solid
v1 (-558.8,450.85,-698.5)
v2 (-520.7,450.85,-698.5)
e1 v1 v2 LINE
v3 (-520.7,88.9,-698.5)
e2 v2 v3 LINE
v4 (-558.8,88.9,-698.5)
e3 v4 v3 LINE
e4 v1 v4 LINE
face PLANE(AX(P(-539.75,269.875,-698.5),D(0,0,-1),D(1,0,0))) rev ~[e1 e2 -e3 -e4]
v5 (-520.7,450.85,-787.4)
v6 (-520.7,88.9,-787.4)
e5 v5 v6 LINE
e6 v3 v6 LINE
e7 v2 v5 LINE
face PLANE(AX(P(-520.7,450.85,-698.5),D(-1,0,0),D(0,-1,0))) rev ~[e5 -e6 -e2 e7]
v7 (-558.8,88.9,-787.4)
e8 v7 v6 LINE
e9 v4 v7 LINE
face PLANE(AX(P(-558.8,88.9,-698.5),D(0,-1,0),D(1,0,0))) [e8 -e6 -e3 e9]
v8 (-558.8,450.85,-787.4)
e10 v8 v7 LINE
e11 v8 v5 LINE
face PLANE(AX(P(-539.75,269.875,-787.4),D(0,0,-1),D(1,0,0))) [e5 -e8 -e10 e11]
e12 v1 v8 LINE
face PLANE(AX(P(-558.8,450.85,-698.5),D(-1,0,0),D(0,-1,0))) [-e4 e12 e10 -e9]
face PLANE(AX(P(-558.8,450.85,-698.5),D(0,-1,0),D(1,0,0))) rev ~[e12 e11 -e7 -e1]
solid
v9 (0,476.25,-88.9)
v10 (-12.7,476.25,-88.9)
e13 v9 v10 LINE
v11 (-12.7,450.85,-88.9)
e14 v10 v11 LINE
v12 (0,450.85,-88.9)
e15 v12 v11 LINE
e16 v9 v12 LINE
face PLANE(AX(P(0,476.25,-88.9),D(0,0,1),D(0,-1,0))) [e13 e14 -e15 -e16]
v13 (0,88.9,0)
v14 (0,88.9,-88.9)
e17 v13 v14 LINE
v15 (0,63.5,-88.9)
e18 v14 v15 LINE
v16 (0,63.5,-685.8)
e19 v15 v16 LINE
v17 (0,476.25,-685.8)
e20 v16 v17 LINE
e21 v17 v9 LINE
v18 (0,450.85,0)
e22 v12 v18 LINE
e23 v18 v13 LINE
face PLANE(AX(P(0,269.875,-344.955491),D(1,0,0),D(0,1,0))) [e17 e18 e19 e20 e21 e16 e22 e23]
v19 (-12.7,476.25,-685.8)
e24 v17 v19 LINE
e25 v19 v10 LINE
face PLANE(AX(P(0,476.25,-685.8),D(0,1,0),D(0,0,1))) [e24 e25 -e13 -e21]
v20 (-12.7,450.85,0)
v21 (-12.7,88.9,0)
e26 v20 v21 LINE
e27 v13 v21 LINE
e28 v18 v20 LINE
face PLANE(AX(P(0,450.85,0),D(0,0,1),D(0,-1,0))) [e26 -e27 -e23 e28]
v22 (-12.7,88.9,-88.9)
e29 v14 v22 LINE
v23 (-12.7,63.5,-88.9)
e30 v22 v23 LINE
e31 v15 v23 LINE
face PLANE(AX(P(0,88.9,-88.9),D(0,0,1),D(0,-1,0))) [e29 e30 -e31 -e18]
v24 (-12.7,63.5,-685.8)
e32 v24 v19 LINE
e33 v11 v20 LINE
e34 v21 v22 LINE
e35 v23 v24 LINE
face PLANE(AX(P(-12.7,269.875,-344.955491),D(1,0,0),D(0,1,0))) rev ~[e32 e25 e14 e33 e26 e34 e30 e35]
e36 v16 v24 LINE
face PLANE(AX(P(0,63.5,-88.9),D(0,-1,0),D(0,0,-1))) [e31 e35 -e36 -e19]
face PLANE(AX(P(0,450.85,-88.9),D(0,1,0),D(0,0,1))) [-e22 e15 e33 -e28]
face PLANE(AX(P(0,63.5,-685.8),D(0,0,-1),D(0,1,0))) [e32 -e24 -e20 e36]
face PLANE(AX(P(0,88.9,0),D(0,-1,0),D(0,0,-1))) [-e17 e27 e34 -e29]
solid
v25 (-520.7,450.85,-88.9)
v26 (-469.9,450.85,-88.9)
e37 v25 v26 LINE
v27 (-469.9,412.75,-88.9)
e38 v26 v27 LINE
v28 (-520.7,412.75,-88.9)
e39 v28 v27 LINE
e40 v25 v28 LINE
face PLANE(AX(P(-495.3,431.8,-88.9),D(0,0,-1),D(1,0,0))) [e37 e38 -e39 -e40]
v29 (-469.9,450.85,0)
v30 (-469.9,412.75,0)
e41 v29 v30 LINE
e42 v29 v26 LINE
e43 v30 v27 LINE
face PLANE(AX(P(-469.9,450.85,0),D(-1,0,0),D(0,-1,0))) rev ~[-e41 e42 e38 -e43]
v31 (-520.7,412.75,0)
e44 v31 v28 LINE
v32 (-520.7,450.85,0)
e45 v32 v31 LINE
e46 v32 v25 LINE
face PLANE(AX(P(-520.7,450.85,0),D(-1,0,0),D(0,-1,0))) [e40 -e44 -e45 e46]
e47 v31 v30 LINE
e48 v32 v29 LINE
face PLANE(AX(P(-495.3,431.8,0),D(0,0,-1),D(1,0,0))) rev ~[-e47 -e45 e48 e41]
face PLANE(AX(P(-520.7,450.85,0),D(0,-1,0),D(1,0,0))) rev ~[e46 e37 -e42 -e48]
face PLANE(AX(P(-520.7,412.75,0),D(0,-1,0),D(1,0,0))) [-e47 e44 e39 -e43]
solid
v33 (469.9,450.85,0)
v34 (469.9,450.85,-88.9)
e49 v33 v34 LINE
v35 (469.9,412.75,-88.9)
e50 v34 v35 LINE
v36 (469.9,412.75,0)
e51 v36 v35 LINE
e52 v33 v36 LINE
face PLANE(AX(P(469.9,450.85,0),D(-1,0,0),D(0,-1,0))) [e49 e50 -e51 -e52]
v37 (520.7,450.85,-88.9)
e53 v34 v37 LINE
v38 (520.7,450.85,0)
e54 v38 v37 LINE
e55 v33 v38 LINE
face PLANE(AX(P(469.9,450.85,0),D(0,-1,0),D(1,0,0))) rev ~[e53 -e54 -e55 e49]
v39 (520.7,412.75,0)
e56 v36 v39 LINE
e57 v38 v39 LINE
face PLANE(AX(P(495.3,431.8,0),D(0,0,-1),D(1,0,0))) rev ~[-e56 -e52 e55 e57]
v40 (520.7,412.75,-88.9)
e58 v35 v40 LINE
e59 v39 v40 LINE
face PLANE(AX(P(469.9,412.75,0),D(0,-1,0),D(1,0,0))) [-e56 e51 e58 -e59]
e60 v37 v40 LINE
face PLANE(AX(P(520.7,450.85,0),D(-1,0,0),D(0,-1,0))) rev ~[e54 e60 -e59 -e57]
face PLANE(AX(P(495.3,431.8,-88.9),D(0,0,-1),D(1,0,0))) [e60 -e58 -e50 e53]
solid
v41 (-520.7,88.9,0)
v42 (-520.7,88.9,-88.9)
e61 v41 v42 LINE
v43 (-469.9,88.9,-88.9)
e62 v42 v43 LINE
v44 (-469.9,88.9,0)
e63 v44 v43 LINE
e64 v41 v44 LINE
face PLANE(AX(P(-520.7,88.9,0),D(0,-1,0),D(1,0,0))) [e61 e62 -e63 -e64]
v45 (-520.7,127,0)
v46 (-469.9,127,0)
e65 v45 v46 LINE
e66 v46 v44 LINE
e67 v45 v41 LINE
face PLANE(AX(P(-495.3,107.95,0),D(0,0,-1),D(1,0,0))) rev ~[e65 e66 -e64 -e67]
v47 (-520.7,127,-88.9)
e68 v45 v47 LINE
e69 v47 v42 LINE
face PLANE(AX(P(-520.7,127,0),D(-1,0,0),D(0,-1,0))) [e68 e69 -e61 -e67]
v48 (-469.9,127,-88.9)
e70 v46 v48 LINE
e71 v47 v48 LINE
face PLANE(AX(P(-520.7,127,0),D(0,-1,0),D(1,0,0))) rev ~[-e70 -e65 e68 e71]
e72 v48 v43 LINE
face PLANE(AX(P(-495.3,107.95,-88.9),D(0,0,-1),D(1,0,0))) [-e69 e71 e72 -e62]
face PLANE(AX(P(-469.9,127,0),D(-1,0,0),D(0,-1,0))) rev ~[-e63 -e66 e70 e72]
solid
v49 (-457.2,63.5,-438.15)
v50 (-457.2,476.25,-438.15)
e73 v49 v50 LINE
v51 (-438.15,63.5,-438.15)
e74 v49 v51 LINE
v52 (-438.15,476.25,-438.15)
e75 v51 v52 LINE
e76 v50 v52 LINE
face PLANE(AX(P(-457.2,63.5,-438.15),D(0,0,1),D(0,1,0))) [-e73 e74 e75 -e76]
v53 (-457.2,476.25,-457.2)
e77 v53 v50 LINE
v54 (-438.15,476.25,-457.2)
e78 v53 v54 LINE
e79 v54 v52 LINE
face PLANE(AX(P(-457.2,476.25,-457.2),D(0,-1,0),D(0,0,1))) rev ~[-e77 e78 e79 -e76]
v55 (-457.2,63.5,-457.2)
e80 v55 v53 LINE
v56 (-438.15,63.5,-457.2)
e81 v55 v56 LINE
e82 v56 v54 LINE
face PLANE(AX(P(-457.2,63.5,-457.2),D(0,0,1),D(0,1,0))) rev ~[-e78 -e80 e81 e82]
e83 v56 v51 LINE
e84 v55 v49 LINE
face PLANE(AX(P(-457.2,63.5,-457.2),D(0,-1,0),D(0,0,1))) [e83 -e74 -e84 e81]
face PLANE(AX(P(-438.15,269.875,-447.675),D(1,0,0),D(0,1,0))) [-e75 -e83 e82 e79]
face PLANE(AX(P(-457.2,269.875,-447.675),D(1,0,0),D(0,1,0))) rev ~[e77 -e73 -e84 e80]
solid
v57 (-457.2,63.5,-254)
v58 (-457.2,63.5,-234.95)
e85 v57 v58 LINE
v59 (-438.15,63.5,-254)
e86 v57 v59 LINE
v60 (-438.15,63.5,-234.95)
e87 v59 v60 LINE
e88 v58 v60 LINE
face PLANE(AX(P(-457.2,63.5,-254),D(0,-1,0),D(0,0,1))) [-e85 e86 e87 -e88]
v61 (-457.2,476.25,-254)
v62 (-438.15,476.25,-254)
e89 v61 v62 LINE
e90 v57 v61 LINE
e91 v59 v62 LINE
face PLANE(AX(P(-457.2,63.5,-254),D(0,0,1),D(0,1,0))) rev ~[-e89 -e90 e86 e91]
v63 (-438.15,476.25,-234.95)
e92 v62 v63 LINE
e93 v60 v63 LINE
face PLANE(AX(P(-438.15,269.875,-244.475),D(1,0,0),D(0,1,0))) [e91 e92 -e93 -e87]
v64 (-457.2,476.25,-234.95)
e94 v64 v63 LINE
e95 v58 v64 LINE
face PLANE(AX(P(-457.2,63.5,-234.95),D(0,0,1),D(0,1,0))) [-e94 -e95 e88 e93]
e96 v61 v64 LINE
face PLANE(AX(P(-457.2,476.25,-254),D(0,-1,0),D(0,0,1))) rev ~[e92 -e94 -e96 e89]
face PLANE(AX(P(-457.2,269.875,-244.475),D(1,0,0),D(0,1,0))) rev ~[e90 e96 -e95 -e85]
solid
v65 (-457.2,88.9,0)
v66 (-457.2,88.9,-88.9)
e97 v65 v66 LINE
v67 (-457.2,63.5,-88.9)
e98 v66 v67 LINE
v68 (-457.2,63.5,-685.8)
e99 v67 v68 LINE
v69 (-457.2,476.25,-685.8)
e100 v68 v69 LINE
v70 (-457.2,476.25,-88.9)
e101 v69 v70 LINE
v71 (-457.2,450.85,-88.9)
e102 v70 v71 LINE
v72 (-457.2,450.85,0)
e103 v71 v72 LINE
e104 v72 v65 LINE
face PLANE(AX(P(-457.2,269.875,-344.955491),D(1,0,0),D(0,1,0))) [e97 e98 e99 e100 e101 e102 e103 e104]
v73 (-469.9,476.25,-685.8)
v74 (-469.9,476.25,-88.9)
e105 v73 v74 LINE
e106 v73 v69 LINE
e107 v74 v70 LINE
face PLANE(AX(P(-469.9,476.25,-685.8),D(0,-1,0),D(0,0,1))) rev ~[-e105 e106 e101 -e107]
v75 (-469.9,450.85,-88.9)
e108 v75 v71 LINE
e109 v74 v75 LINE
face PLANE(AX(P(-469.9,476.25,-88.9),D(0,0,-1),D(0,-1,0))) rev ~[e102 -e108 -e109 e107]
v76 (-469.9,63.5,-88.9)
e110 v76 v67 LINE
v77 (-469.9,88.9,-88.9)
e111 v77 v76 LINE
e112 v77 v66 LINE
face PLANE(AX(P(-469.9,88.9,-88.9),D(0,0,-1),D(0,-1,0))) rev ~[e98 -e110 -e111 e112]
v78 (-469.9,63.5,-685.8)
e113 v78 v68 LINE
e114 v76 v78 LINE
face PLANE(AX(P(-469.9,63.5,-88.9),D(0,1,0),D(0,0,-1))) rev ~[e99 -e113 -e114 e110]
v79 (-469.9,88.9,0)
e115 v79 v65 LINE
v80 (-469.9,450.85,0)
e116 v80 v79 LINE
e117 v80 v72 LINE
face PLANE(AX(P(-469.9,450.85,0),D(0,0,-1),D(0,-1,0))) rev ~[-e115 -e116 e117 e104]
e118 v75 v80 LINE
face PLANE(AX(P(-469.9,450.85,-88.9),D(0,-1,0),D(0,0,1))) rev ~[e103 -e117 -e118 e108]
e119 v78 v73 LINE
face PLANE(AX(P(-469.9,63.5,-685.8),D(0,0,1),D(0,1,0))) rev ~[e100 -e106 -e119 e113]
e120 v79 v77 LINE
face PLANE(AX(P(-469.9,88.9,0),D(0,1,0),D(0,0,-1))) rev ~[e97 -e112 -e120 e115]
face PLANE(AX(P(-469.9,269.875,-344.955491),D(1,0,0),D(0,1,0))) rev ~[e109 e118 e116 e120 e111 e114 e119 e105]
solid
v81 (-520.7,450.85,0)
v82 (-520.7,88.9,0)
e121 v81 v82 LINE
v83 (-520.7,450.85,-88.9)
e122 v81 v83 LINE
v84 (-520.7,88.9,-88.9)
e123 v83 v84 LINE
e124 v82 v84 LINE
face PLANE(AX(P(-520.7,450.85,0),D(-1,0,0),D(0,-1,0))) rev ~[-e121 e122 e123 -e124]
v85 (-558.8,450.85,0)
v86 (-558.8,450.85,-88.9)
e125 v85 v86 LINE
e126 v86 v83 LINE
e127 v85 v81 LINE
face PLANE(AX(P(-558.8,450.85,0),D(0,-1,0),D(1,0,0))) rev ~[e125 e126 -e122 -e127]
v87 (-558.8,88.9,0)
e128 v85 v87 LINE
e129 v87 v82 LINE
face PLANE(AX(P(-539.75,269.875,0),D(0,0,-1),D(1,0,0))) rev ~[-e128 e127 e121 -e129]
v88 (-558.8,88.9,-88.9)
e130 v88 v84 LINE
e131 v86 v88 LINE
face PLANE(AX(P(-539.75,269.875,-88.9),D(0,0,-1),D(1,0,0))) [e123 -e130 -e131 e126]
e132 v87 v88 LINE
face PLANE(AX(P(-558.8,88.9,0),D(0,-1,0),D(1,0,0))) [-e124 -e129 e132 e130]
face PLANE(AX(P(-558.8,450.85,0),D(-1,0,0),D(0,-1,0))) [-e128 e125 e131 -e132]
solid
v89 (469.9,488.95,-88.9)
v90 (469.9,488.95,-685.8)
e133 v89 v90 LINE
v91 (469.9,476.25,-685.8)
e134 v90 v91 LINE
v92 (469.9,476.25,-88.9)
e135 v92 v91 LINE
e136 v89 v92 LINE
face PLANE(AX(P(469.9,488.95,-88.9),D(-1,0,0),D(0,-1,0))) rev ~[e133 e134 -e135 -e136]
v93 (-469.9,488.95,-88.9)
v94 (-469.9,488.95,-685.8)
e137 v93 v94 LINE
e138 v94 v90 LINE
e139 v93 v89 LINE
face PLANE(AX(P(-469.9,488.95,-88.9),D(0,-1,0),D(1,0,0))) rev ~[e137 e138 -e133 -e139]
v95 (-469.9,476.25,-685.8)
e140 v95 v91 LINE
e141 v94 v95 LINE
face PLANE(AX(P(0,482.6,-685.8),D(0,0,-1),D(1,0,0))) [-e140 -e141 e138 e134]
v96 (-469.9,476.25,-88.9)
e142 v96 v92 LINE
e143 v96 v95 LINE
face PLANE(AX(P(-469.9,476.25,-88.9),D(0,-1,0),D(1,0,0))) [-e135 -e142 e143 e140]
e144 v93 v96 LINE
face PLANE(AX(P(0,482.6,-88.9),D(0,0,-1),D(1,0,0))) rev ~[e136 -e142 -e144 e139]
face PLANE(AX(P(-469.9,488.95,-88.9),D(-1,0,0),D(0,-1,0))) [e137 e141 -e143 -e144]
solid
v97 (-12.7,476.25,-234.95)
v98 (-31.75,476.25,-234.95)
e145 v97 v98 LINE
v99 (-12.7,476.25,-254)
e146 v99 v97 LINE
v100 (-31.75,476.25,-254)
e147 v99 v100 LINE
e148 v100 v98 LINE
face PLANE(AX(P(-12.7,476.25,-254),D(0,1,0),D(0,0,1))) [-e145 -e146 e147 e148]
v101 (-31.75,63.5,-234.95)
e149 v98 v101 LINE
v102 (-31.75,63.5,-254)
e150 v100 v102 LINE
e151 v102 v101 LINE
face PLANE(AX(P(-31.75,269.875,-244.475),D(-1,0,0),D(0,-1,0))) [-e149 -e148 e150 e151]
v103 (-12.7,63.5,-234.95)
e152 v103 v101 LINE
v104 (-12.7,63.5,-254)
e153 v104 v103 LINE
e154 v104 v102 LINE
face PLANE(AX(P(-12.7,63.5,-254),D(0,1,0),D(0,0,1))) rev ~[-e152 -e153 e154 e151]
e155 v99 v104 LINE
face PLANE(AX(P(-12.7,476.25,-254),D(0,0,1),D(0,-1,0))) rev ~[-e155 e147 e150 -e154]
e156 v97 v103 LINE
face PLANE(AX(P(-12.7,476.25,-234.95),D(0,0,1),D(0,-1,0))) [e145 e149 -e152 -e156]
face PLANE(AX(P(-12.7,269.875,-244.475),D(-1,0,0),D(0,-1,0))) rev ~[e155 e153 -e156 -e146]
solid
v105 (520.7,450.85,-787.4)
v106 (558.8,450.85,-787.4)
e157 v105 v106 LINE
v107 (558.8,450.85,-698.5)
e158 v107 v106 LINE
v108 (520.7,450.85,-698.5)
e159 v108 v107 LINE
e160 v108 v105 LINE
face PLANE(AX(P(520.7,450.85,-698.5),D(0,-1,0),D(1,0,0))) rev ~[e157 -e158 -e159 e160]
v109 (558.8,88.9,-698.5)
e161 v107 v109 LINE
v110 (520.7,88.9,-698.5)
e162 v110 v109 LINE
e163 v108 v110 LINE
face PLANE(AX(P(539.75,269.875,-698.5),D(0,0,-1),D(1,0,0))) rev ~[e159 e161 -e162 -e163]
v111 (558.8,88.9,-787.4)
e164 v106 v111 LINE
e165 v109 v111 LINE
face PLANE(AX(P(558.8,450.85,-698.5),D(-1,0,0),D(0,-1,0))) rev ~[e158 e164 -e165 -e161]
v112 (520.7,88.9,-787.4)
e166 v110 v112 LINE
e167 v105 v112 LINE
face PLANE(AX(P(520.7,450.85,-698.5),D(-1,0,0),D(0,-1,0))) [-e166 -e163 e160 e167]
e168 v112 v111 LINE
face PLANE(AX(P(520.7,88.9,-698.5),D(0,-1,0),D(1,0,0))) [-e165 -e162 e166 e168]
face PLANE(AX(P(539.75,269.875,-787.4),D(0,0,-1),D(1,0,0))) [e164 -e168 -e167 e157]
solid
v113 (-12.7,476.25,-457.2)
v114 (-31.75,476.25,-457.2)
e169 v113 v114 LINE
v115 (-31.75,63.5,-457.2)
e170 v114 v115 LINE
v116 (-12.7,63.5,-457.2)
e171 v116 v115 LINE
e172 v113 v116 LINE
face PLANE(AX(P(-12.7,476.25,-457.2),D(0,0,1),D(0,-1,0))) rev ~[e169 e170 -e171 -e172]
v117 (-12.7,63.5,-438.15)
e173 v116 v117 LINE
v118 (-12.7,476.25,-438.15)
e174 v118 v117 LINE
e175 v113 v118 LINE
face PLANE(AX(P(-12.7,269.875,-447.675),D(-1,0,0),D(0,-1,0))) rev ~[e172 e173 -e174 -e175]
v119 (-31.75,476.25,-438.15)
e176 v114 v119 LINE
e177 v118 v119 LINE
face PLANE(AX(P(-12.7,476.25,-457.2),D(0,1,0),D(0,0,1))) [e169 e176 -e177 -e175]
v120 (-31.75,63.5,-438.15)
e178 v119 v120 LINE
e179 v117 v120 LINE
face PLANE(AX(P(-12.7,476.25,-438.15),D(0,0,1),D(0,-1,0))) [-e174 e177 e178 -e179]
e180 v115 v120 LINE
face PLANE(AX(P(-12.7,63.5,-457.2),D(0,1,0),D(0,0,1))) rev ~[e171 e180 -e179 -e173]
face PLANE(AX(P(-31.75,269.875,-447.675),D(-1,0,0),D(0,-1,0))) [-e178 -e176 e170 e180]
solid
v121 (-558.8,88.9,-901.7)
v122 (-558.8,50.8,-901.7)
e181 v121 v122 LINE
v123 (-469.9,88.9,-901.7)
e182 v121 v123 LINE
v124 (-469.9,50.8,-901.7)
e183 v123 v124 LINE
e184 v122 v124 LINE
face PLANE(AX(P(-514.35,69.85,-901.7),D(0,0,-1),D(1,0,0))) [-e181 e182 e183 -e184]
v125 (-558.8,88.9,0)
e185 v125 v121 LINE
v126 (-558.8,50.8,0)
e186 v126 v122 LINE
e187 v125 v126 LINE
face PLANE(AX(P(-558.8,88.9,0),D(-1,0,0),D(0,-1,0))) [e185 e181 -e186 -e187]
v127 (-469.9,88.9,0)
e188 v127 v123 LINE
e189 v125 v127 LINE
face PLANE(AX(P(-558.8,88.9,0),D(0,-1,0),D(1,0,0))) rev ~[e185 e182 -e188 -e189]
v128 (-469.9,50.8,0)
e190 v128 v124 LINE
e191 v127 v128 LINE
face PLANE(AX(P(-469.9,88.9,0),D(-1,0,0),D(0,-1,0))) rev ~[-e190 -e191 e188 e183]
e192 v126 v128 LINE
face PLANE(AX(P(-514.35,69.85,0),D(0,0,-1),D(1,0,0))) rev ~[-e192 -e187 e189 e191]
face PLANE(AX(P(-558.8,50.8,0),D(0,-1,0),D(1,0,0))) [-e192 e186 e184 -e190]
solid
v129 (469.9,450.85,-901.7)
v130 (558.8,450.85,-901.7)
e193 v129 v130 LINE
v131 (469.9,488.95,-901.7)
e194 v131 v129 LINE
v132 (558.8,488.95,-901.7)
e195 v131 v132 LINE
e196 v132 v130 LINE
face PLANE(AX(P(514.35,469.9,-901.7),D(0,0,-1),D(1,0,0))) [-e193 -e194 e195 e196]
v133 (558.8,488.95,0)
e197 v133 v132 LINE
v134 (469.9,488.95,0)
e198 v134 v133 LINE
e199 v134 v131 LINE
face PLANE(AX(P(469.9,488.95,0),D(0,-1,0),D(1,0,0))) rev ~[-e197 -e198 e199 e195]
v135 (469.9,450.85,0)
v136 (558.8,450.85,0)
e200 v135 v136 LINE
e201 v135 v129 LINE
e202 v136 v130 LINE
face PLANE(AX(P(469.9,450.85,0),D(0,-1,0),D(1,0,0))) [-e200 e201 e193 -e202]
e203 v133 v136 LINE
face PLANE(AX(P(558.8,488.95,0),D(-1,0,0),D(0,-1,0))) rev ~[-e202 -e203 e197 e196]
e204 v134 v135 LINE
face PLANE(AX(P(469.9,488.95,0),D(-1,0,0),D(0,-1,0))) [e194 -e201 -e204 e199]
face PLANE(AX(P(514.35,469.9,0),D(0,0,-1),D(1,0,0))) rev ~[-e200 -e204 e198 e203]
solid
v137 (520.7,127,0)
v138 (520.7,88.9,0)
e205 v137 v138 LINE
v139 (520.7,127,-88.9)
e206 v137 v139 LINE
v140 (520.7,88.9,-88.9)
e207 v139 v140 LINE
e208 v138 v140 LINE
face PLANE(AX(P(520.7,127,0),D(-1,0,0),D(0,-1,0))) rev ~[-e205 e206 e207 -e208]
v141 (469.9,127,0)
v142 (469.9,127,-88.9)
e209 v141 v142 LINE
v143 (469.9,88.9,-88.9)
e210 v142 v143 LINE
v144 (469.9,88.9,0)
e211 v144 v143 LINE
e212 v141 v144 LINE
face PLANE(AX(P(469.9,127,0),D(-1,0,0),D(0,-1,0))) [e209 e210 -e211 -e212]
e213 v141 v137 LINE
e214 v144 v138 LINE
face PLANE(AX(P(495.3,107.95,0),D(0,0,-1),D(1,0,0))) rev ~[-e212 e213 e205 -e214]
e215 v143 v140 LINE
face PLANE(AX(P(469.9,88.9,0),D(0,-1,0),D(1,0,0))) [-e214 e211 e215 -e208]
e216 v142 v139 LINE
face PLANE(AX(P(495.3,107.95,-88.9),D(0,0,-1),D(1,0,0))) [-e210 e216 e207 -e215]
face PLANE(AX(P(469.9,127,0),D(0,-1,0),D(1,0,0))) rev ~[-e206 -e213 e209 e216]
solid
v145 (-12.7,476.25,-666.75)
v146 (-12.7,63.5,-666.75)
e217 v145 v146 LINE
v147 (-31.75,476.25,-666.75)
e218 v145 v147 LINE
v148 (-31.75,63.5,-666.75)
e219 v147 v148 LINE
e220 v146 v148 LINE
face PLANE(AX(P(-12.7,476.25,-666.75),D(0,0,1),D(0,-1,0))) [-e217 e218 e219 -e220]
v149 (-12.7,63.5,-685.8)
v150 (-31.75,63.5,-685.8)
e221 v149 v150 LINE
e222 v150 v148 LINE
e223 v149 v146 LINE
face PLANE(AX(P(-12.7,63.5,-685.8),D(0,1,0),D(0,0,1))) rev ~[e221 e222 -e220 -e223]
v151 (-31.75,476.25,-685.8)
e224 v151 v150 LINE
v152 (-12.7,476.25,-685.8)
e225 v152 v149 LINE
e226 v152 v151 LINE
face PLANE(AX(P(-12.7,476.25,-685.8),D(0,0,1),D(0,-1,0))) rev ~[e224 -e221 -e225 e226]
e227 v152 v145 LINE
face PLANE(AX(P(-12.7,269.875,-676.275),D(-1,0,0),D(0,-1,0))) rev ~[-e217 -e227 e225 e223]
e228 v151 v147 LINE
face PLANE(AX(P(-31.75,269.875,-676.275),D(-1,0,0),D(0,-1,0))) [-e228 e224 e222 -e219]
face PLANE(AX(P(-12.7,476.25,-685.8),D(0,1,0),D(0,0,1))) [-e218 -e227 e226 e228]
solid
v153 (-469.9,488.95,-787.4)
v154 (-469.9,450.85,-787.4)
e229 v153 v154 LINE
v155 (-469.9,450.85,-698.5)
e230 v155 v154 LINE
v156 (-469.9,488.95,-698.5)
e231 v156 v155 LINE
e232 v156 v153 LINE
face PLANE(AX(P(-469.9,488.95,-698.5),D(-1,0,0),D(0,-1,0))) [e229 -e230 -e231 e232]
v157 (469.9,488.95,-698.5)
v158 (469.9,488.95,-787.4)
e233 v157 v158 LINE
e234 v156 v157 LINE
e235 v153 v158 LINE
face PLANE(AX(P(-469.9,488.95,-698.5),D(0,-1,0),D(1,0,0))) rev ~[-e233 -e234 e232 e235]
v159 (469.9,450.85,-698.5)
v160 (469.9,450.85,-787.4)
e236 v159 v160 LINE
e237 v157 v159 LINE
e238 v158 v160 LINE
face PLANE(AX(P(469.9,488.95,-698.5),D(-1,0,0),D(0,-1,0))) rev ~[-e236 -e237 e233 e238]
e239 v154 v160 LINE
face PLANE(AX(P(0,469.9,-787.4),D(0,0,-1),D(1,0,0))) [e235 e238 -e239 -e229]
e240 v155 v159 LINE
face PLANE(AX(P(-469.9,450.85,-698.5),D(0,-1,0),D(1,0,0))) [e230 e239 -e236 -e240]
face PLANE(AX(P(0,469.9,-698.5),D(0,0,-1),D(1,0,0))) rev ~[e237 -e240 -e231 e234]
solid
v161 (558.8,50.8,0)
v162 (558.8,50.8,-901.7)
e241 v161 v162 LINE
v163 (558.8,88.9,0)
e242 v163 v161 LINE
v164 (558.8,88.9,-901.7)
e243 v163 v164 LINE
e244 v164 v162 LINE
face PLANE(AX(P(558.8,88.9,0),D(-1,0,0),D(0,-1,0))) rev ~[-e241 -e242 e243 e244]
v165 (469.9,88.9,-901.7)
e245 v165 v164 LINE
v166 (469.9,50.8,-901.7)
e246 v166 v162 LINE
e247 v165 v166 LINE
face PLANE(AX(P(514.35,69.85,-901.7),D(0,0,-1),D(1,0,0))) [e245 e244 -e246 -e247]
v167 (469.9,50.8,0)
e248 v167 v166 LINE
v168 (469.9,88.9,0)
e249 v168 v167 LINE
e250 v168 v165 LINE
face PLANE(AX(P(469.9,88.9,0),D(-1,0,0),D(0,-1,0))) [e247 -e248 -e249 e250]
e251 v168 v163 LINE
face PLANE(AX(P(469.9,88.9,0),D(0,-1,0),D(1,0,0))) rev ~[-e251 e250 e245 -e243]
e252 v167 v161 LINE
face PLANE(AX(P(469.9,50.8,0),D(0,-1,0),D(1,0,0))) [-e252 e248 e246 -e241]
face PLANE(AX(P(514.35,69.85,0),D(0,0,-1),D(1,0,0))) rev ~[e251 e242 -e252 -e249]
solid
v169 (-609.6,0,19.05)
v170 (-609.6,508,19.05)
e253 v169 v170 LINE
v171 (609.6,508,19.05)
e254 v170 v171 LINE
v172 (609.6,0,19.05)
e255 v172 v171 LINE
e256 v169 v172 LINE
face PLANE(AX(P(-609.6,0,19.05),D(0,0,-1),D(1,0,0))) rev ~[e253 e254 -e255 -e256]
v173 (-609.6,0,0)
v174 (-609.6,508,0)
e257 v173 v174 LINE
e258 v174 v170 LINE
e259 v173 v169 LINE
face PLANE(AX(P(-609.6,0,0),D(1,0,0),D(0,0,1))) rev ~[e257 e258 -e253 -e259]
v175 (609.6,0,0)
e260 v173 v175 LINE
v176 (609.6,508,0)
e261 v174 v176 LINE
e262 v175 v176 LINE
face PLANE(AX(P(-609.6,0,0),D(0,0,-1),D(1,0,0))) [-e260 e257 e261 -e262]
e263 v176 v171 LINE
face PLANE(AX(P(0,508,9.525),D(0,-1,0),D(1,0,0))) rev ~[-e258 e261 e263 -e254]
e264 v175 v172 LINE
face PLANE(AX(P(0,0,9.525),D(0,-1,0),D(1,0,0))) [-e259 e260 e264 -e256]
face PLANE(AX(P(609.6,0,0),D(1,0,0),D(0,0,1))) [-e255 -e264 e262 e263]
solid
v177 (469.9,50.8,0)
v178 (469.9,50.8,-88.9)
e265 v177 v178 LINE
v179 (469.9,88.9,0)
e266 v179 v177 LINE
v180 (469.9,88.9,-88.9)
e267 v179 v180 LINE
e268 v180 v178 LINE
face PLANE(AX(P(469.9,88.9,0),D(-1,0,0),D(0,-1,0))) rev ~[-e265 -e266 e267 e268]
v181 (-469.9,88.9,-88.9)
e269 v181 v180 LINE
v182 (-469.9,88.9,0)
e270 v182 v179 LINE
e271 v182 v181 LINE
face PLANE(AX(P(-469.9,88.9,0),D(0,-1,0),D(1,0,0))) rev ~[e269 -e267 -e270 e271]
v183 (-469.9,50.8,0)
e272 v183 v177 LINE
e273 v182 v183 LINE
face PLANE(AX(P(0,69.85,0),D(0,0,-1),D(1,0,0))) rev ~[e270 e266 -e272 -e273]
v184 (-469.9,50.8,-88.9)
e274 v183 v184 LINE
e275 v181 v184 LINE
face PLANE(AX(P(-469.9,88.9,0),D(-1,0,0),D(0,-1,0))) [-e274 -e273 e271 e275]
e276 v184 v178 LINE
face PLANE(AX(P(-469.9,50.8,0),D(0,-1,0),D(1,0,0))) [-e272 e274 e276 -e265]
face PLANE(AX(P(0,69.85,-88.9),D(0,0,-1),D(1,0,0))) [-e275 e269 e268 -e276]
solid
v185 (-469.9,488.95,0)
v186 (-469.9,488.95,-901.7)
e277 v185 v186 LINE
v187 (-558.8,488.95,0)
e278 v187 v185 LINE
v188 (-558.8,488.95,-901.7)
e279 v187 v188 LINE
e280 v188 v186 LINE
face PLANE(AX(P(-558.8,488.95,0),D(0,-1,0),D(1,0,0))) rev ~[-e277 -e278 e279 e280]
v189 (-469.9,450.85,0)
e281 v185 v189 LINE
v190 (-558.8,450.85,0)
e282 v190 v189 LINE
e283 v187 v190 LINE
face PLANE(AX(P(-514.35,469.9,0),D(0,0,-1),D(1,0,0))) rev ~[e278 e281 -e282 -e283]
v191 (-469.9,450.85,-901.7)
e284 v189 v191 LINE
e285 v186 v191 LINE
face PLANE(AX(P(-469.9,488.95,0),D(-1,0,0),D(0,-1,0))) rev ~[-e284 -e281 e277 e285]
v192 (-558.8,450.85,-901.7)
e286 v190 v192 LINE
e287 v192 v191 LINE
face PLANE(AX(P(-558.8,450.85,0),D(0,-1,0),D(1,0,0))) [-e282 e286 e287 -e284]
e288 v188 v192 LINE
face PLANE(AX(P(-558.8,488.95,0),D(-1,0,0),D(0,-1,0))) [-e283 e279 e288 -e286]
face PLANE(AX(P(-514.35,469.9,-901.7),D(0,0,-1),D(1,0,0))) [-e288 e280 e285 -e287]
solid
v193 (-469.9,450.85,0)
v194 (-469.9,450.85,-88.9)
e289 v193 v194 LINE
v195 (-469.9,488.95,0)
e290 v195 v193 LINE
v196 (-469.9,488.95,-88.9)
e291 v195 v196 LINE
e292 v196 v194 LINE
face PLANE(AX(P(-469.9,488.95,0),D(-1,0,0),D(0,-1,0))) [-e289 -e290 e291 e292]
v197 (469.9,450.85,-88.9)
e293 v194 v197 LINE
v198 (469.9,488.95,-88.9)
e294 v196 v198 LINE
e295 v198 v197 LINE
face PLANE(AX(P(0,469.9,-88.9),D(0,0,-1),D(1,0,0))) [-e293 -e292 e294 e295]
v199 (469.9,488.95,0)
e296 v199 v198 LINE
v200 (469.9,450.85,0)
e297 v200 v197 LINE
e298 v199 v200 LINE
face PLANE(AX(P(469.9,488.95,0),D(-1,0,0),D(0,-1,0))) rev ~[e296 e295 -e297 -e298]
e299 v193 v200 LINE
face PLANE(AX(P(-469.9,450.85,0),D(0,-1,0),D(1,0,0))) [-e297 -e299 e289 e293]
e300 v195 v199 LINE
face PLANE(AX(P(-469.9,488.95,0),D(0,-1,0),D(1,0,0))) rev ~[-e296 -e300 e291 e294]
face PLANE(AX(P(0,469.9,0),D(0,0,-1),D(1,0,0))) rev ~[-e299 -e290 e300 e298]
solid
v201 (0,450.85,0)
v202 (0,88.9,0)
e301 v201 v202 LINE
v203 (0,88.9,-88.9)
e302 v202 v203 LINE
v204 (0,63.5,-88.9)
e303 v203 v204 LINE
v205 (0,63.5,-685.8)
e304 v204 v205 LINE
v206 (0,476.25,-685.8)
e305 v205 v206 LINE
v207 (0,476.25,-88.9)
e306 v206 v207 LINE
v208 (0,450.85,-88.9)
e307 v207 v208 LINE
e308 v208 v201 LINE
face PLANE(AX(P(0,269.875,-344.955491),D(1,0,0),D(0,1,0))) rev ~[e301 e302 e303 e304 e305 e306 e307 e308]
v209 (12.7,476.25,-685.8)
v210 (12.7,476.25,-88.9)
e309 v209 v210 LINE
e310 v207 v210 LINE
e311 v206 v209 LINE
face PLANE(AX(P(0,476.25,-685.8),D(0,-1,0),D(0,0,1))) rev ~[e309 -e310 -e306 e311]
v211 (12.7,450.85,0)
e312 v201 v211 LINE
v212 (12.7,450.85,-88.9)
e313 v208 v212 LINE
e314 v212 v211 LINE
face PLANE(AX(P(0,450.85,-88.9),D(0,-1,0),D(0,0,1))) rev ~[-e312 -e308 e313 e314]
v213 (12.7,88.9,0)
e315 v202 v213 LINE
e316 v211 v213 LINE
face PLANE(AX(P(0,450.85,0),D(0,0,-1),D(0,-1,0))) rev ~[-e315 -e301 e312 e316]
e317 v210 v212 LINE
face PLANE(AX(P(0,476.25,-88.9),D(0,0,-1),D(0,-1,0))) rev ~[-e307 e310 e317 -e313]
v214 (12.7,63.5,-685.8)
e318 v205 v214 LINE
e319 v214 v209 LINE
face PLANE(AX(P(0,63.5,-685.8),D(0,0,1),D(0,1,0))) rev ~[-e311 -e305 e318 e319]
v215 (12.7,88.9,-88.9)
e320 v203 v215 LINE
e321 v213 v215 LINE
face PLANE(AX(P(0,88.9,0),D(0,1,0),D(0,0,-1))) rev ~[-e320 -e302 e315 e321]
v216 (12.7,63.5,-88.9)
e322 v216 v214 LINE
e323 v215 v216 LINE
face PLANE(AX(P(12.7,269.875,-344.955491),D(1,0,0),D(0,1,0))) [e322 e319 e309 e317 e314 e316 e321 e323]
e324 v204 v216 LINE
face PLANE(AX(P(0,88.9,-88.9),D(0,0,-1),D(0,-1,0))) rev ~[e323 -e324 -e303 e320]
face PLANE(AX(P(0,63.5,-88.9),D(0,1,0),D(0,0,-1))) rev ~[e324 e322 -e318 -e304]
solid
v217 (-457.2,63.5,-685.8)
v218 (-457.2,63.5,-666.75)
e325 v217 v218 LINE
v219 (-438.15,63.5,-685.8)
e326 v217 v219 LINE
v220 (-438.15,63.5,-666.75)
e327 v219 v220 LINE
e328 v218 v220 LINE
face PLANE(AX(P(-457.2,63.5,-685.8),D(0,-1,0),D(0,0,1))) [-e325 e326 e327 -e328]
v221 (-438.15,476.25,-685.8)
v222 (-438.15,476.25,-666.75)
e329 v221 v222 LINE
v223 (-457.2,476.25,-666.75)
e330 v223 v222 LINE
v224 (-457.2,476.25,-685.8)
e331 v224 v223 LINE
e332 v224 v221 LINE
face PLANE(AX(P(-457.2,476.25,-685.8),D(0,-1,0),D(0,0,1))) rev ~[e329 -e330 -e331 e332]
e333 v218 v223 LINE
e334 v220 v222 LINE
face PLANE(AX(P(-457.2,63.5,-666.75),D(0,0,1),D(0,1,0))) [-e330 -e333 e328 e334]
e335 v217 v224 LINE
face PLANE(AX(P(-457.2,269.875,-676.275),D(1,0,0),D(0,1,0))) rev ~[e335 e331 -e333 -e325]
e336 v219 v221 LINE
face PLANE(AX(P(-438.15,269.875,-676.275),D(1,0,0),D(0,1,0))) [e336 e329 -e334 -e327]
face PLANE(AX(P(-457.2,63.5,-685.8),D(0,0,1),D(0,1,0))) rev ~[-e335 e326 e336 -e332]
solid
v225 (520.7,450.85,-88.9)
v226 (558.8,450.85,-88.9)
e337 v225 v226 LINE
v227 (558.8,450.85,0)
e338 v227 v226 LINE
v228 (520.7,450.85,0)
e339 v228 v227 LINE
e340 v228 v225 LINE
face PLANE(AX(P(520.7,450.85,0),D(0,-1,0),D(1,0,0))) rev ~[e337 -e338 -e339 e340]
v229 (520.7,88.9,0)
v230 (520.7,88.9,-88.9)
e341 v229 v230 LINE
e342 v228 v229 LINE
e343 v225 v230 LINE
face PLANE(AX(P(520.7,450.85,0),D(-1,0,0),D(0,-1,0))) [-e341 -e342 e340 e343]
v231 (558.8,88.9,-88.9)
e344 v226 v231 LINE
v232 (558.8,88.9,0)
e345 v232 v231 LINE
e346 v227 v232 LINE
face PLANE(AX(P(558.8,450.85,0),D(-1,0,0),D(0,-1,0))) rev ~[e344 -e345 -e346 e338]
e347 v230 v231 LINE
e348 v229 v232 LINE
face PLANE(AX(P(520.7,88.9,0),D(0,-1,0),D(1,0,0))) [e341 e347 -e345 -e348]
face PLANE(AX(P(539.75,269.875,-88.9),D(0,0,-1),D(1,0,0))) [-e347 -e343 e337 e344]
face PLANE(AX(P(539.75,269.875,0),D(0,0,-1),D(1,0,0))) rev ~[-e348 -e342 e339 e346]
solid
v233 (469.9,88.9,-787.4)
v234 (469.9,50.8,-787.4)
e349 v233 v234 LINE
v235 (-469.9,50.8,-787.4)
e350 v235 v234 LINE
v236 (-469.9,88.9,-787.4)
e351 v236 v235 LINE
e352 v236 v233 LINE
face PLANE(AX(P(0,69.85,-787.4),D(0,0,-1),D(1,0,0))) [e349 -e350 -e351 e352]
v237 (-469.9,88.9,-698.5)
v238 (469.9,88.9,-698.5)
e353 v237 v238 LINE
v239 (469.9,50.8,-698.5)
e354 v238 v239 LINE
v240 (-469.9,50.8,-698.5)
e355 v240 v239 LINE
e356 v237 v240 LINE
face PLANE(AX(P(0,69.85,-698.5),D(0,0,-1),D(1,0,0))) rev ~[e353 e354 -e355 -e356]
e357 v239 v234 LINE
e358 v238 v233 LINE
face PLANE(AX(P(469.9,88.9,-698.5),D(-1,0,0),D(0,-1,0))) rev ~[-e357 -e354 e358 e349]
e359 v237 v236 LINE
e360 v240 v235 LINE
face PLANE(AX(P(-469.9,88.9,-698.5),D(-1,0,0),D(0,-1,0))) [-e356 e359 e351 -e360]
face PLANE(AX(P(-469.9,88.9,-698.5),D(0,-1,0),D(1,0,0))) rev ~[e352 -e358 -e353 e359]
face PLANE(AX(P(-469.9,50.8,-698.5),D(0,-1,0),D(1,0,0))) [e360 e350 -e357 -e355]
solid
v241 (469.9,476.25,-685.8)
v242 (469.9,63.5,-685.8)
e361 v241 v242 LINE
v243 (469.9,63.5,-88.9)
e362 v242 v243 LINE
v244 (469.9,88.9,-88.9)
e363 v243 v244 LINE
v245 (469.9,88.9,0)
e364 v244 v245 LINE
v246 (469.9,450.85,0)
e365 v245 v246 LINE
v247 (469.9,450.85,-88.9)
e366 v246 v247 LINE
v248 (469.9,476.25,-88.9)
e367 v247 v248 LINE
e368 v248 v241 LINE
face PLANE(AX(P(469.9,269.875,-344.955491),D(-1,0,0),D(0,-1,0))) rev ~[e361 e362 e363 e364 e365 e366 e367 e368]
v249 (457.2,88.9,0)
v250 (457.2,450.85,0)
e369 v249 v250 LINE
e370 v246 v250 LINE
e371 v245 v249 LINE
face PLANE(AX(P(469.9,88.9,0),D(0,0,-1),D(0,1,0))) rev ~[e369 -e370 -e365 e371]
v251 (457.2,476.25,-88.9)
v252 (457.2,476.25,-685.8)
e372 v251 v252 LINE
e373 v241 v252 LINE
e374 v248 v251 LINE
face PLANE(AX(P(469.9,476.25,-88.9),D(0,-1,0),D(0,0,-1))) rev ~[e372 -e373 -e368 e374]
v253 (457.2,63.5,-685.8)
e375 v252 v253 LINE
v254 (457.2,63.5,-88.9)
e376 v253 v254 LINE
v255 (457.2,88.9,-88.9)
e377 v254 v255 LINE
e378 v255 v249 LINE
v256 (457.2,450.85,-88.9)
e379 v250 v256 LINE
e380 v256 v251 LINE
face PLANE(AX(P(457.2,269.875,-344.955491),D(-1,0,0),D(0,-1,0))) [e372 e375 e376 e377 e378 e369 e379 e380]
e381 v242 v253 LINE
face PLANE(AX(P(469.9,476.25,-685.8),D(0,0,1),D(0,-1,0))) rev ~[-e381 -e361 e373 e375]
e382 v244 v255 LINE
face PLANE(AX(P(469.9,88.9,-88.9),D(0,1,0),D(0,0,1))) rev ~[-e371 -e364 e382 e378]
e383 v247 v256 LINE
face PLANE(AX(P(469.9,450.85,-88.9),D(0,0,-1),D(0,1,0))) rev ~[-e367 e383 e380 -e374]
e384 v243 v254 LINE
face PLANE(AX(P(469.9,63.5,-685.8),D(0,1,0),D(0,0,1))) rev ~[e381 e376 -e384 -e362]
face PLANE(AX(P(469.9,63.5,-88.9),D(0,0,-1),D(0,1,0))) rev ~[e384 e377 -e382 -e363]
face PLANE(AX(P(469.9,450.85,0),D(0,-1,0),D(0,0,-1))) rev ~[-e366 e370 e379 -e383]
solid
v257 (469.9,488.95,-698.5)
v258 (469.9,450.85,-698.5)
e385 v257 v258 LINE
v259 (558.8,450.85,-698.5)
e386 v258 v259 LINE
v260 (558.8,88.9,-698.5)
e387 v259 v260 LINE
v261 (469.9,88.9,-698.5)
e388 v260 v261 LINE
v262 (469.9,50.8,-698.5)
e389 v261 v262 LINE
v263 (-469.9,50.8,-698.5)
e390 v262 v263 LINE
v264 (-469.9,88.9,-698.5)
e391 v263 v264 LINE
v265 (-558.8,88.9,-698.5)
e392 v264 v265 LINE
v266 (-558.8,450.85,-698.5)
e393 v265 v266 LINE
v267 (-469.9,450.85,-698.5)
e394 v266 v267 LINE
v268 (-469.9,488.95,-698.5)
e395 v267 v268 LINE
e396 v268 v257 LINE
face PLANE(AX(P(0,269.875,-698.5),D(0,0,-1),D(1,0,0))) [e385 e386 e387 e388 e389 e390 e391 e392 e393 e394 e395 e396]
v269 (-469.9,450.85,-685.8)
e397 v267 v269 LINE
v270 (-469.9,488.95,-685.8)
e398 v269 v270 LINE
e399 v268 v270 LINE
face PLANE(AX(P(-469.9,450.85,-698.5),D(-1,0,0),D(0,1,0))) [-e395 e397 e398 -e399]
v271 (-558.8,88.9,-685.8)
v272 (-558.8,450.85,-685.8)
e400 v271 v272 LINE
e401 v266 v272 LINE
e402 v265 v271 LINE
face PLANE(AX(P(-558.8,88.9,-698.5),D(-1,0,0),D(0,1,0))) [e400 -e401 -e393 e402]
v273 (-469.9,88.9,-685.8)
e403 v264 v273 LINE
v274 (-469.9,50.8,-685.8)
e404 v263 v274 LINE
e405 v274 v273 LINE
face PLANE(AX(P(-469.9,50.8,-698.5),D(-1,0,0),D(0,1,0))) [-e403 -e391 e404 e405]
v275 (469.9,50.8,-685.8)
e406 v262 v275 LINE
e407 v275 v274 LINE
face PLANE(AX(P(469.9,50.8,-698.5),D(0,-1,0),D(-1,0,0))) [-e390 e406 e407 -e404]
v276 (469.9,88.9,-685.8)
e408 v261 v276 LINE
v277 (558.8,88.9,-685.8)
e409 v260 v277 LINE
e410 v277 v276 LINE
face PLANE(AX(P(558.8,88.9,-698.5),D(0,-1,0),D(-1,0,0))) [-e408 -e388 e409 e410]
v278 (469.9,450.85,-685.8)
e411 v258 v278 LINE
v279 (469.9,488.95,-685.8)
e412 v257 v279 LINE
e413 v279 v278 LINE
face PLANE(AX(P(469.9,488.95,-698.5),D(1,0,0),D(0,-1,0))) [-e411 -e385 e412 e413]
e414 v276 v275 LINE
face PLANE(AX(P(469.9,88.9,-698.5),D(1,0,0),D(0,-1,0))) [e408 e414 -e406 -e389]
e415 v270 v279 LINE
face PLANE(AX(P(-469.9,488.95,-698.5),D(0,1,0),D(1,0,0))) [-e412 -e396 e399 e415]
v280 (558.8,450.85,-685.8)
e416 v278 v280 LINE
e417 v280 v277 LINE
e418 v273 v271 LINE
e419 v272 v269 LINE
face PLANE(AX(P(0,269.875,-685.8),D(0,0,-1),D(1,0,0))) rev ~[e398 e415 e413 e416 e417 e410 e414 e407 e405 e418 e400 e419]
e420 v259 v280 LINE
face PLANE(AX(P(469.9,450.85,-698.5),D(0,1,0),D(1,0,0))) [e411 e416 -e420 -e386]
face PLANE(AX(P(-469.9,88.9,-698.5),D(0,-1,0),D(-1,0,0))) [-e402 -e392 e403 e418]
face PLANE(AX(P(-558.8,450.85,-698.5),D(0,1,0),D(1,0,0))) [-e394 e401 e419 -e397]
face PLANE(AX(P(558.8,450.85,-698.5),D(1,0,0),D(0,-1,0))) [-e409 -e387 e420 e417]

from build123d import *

# Parameters (mm, degrees)
F0_W      = 1219.2
F0_H      = 19.05
F1_DEPTH  = 508
F3_W      = 88.9
F3_H      = 38.1
F4_DEPTH  = 901.7
F6_W      = 939.8
F6_H      = 38.1
F7_DEPTH  = 88.9
F5_W      = 939.8
F5_H      = 38.1
F8_DEPTH  = 88.9
F9_W      = 38.1
F9_H      = 361.95
F10_DEPTH = 88.9
F11_W     = 50.8
F11_H     = 38.1
F12_DEPTH = 88.9
F14_W     = 939.8
F14_H     = 38.1
F15_DEPTH = 88.9
F16_W     = 38.1
F16_H     = 361.95
F17_DEPTH = 88.9
F19_DEPTH = 12.7
F21_DEPTH = 12.7
F22_DEPTH = 12.7
F24_DEPTH = 12.7
F26_DEPTH = 12.7
F27_W     = 939.8
F27_H     = 12.7
F28_DEPTH = 596.9
F30_W     = 412.75
F30_H     = 19.05
F31_DEPTH = 19.05
F32_W     = 412.75
F32_H     = 19.05
F33_DEPTH = 19.05


with BuildPart() as f1:
    # F0 (on Front) → F1 (new body)
    with BuildSketch(Plane.XZ):
        with Locations((0, 9.525)):
            Rectangle(F0_W, F0_H)
    extrude(amount=-F1_DEPTH)


with BuildPart() as f4:
    # F3 (on face) → F4 (new body)
    with BuildSketch(Plane(origin=(0, 0, 0), x_dir=(1, 0, 0), z_dir=(0, 0, -1))):
        with Locations((514.35, -69.85)):
            Rectangle(F3_W, F3_H)
    extrude(amount=F4_DEPTH)


with BuildPart() as f4b:
    # F3 (on face) → F4, piece 2 (new body)
    with BuildSketch(Plane(origin=(0, 0, 0), x_dir=(1, 0, 0), z_dir=(0, 0, -1))):
        with Locations((-514.35, -69.85)):
            Rectangle(F3_W, F3_H)
    extrude(amount=F4_DEPTH)


with BuildPart() as f4c:
    # F3 (on face) → F4, piece 3 (new body)
    with BuildSketch(Plane(origin=(0, 0, 0), x_dir=(1, 0, 0), z_dir=(0, 0, -1))):
        with Locations((-514.35, -469.9)):
            Rectangle(F3_W, F3_H)
    extrude(amount=F4_DEPTH)


with BuildPart() as f4d:
    # F3 (on face) → F4, piece 4 (new body)
    with BuildSketch(Plane(origin=(0, 0, 0), x_dir=(1, 0, 0), z_dir=(0, 0, -1))):
        with Locations((514.35, -469.9)):
            Rectangle(F3_W, F3_H)
    extrude(amount=F4_DEPTH)


with BuildPart() as f7:
    # F6 (on face) → F7 (new body)
    with BuildSketch(Plane(origin=(0, 0, 0), x_dir=(1, 0, 0), z_dir=(0, 0, -1))):
        with Locations((0, -469.9)):
            Rectangle(F6_W, F6_H)
    extrude(amount=F7_DEPTH)


with BuildPart() as f8:
    # F5 (on face) → F8 (new body)
    with BuildSketch(Plane(origin=(0, 0, 0), x_dir=(1, 0, 0), z_dir=(0, 0, -1))):
        with Locations((0, -69.85)):
            Rectangle(F5_W, F5_H)
    extrude(amount=F8_DEPTH)


with BuildPart() as f10:
    # F9 (on face) → F10 (new body)
    with BuildSketch(Plane(origin=(0, 0, 0), x_dir=(1, 0, 0), z_dir=(0, 0, -1))):
        with Locations((-539.75, -269.875)):
            Rectangle(F9_W, F9_H)
    extrude(amount=F10_DEPTH)


with BuildPart() as f10b:
    # F9 (on face) → F10, piece 2 (new body)
    with BuildSketch(Plane(origin=(0, 0, 0), x_dir=(1, 0, 0), z_dir=(0, 0, -1))):
        with Locations((539.75, -269.875)):
            Rectangle(F9_W, F9_H)
    extrude(amount=F10_DEPTH)


with BuildPart() as f12:
    # F11 (on face) → F12 (new body)
    with BuildSketch(Plane(origin=(0, 0, 0), x_dir=(1, 0, 0), z_dir=(0, 0, -1))):
        with Locations((-495.3, -107.95)):
            Rectangle(F11_W, F11_H)
    extrude(amount=F12_DEPTH)


with BuildPart() as f12b:
    # F11 (on face) → F12, piece 2 (new body)
    with BuildSketch(Plane(origin=(0, 0, 0), x_dir=(1, 0, 0), z_dir=(0, 0, -1))):
        with Locations((-495.3, -431.8)):
            Rectangle(F11_W, F11_H)
    extrude(amount=F12_DEPTH)


with BuildPart() as f12c:
    # F11 (on face) → F12, piece 3 (new body)
    with BuildSketch(Plane(origin=(0, 0, 0), x_dir=(1, 0, 0), z_dir=(0, 0, -1))):
        with Locations((495.3, -107.95)):
            Rectangle(F11_W, F11_H)
    extrude(amount=F12_DEPTH)


with BuildPart() as f12d:
    # F11 (on face) → F12, piece 4 (new body)
    with BuildSketch(Plane(origin=(0, 0, 0), x_dir=(1, 0, 0), z_dir=(0, 0, -1))):
        with Locations((495.3, -431.8)):
            Rectangle(F11_W, F11_H)
    extrude(amount=F12_DEPTH)


with BuildPart() as f15:
    # F14 (on offset) → F15 (new body)
    with BuildSketch(Plane(origin=(0, 0, -698.5), x_dir=(1, 0, 0), z_dir=(0, 0, -1))):
        with Locations((0, -69.85)):
            Rectangle(F14_W, F14_H)
    extrude(amount=F15_DEPTH)


with BuildPart() as f15b:
    # F14 (on offset) → F15, piece 2 (new body)
    with BuildSketch(Plane(origin=(0, 0, -698.5), x_dir=(1, 0, 0), z_dir=(0, 0, -1))):
        with Locations((0, -469.9)):
            Rectangle(F14_W, F14_H)
    extrude(amount=F15_DEPTH)


with BuildPart() as f17:
    # F16 (on offset) → F17 (new body)
    with BuildSketch(Plane(origin=(0, 0, -698.5), x_dir=(1, 0, 0), z_dir=(0, 0, -1))):
        with Locations((-539.75, -269.875)):
            Rectangle(F16_W, F16_H)
    extrude(amount=F17_DEPTH)


with BuildPart() as f17b:
    # F16 (on offset) → F17, piece 2 (new body)
    with BuildSketch(Plane(origin=(0, 0, -698.5), x_dir=(1, 0, 0), z_dir=(0, 0, -1))):
        with Locations((539.75, -269.875)):
            Rectangle(F16_W, F16_H)
    extrude(amount=F17_DEPTH)


with BuildPart() as f19:
    # F18 (on offset) → F19 (new body)
    with BuildSketch(Plane(origin=(0, 0, -698.5), x_dir=(1, 0, 0), z_dir=(0, 0, -1))):
        Polygon((469.9, -450.85), (558.8, -450.85), (558.8, -88.9), (469.9, -88.9), (469.9, -50.8), (-469.9, -50.8), (-469.9, -88.9), (-558.8, -88.9), (-558.8, -450.85), (-469.9, -450.85), (-469.9, -488.95), (469.9, -488.95), align=None)
    extrude(amount=-F19_DEPTH)


with BuildPart() as f21:
    # F20 (on Right) → F21 (new body)
    with BuildSketch(Plane.YZ):
        Polygon((450.85, -88.9), (450.85, 0), (88.9, 0), (88.9, -88.9), (63.5, -88.9), (63.5, -685.8), (476.25, -685.8), (476.25, -88.9), align=None)
    extrude(amount=F21_DEPTH)


with BuildPart() as f22:
    # F20 (on Right) → F22 (new body)
    with BuildSketch(Plane.YZ):
        Polygon((450.85, -88.9), (450.85, 0), (88.9, 0), (88.9, -88.9), (63.5, -88.9), (63.5, -685.8), (476.25, -685.8), (476.25, -88.9), align=None)
    extrude(amount=-F22_DEPTH)


with BuildPart() as f24:
    # F23 (on face) → F24 (new body)
    with BuildSketch(Plane.YZ.offset(-469.9)):
        Polygon((450.85, -88.9), (450.85, 0), (88.9, 0), (88.9, -88.9), (63.5, -88.9), (63.5, -685.8), (476.25, -685.8), (476.25, -88.9), align=None)
    extrude(amount=F24_DEPTH)


with BuildPart() as f26:
    # F25 (on face) → F26 (new body)
    with BuildSketch(Plane(origin=(469.9, 0, 0), x_dir=(0, -1, 0), z_dir=(-1, 0, 0))):
        Polygon((-88.9, 0), (-450.85, 0), (-450.85, -88.9), (-476.25, -88.9), (-476.25, -685.8), (-63.5, -685.8), (-63.5, -88.9), (-88.9, -88.9), align=None)
    extrude(amount=F26_DEPTH)


with BuildPart() as f28:
    # F27 (on face) → F28 (new body)
    with BuildSketch(Plane(origin=(0, 0, -88.9), x_dir=(1, 0, 0), z_dir=(0, 0, -1))):
        with Locations((0, -482.6)):
            Rectangle(F27_W, F27_H)
    extrude(amount=F28_DEPTH)


with BuildPart() as f31:
    # F30 (on face) → F31 (new body)
    with BuildSketch(Plane.YZ.offset(-457.2)):
        with Locations((269.875, -244.475)):
            Rectangle(F30_W, F30_H)
    extrude(amount=F31_DEPTH)


with BuildPart() as f31b:
    # F30 (on face) → F31, piece 2 (new body)
    with BuildSketch(Plane.YZ.offset(-457.2)):
        with Locations((269.875, -447.675)):
            Rectangle(F30_W, F30_H)
    extrude(amount=F31_DEPTH)


with BuildPart() as f31c:
    # F30 (on face) → F31, piece 3 (new body)
    with BuildSketch(Plane.YZ.offset(-457.2)):
        with Locations((269.875, -676.275)):
            Rectangle(F30_W, F30_H)
    extrude(amount=F31_DEPTH)


with BuildPart() as f33:
    # F32 (on face) → F33 (new body)
    with BuildSketch(Plane(origin=(-12.7, 0, 0), x_dir=(0, -1, 0), z_dir=(-1, 0, 0))):
        with Locations((-269.875, -244.475)):
            Rectangle(F32_W, F32_H)
    extrude(amount=F33_DEPTH)


with BuildPart() as f33b:
    # F32 (on face) → F33, piece 2 (new body)
    with BuildSketch(Plane(origin=(-12.7, 0, 0), x_dir=(0, -1, 0), z_dir=(-1, 0, 0))):
        with Locations((-269.875, -447.675)):
            Rectangle(F32_W, F32_H)
    extrude(amount=F33_DEPTH)


with BuildPart() as f33c:
    # F32 (on face) → F33, piece 3 (new body)
    with BuildSketch(Plane(origin=(-12.7, 0, 0), x_dir=(0, -1, 0), z_dir=(-1, 0, 0))):
        with Locations((-269.875, -676.275)):
            Rectangle(F32_W, F32_H)
    extrude(amount=F33_DEPTH)


solid = Compound([f1.part, f4.part, f4b.part, f4c.part, f4d.part, f7.part, f8.part, f10.part, f10b.part, f12.part, f12b.part, f12c.part, f12d.part, f15.part, f15b.part, f17.part, f17b.part, f19.part, f21.part, f22.part, f24.part, f26.part, f28.part, f31.part, f31b.part, f31c.part, f33.part, f33b.part, f33c.part])
